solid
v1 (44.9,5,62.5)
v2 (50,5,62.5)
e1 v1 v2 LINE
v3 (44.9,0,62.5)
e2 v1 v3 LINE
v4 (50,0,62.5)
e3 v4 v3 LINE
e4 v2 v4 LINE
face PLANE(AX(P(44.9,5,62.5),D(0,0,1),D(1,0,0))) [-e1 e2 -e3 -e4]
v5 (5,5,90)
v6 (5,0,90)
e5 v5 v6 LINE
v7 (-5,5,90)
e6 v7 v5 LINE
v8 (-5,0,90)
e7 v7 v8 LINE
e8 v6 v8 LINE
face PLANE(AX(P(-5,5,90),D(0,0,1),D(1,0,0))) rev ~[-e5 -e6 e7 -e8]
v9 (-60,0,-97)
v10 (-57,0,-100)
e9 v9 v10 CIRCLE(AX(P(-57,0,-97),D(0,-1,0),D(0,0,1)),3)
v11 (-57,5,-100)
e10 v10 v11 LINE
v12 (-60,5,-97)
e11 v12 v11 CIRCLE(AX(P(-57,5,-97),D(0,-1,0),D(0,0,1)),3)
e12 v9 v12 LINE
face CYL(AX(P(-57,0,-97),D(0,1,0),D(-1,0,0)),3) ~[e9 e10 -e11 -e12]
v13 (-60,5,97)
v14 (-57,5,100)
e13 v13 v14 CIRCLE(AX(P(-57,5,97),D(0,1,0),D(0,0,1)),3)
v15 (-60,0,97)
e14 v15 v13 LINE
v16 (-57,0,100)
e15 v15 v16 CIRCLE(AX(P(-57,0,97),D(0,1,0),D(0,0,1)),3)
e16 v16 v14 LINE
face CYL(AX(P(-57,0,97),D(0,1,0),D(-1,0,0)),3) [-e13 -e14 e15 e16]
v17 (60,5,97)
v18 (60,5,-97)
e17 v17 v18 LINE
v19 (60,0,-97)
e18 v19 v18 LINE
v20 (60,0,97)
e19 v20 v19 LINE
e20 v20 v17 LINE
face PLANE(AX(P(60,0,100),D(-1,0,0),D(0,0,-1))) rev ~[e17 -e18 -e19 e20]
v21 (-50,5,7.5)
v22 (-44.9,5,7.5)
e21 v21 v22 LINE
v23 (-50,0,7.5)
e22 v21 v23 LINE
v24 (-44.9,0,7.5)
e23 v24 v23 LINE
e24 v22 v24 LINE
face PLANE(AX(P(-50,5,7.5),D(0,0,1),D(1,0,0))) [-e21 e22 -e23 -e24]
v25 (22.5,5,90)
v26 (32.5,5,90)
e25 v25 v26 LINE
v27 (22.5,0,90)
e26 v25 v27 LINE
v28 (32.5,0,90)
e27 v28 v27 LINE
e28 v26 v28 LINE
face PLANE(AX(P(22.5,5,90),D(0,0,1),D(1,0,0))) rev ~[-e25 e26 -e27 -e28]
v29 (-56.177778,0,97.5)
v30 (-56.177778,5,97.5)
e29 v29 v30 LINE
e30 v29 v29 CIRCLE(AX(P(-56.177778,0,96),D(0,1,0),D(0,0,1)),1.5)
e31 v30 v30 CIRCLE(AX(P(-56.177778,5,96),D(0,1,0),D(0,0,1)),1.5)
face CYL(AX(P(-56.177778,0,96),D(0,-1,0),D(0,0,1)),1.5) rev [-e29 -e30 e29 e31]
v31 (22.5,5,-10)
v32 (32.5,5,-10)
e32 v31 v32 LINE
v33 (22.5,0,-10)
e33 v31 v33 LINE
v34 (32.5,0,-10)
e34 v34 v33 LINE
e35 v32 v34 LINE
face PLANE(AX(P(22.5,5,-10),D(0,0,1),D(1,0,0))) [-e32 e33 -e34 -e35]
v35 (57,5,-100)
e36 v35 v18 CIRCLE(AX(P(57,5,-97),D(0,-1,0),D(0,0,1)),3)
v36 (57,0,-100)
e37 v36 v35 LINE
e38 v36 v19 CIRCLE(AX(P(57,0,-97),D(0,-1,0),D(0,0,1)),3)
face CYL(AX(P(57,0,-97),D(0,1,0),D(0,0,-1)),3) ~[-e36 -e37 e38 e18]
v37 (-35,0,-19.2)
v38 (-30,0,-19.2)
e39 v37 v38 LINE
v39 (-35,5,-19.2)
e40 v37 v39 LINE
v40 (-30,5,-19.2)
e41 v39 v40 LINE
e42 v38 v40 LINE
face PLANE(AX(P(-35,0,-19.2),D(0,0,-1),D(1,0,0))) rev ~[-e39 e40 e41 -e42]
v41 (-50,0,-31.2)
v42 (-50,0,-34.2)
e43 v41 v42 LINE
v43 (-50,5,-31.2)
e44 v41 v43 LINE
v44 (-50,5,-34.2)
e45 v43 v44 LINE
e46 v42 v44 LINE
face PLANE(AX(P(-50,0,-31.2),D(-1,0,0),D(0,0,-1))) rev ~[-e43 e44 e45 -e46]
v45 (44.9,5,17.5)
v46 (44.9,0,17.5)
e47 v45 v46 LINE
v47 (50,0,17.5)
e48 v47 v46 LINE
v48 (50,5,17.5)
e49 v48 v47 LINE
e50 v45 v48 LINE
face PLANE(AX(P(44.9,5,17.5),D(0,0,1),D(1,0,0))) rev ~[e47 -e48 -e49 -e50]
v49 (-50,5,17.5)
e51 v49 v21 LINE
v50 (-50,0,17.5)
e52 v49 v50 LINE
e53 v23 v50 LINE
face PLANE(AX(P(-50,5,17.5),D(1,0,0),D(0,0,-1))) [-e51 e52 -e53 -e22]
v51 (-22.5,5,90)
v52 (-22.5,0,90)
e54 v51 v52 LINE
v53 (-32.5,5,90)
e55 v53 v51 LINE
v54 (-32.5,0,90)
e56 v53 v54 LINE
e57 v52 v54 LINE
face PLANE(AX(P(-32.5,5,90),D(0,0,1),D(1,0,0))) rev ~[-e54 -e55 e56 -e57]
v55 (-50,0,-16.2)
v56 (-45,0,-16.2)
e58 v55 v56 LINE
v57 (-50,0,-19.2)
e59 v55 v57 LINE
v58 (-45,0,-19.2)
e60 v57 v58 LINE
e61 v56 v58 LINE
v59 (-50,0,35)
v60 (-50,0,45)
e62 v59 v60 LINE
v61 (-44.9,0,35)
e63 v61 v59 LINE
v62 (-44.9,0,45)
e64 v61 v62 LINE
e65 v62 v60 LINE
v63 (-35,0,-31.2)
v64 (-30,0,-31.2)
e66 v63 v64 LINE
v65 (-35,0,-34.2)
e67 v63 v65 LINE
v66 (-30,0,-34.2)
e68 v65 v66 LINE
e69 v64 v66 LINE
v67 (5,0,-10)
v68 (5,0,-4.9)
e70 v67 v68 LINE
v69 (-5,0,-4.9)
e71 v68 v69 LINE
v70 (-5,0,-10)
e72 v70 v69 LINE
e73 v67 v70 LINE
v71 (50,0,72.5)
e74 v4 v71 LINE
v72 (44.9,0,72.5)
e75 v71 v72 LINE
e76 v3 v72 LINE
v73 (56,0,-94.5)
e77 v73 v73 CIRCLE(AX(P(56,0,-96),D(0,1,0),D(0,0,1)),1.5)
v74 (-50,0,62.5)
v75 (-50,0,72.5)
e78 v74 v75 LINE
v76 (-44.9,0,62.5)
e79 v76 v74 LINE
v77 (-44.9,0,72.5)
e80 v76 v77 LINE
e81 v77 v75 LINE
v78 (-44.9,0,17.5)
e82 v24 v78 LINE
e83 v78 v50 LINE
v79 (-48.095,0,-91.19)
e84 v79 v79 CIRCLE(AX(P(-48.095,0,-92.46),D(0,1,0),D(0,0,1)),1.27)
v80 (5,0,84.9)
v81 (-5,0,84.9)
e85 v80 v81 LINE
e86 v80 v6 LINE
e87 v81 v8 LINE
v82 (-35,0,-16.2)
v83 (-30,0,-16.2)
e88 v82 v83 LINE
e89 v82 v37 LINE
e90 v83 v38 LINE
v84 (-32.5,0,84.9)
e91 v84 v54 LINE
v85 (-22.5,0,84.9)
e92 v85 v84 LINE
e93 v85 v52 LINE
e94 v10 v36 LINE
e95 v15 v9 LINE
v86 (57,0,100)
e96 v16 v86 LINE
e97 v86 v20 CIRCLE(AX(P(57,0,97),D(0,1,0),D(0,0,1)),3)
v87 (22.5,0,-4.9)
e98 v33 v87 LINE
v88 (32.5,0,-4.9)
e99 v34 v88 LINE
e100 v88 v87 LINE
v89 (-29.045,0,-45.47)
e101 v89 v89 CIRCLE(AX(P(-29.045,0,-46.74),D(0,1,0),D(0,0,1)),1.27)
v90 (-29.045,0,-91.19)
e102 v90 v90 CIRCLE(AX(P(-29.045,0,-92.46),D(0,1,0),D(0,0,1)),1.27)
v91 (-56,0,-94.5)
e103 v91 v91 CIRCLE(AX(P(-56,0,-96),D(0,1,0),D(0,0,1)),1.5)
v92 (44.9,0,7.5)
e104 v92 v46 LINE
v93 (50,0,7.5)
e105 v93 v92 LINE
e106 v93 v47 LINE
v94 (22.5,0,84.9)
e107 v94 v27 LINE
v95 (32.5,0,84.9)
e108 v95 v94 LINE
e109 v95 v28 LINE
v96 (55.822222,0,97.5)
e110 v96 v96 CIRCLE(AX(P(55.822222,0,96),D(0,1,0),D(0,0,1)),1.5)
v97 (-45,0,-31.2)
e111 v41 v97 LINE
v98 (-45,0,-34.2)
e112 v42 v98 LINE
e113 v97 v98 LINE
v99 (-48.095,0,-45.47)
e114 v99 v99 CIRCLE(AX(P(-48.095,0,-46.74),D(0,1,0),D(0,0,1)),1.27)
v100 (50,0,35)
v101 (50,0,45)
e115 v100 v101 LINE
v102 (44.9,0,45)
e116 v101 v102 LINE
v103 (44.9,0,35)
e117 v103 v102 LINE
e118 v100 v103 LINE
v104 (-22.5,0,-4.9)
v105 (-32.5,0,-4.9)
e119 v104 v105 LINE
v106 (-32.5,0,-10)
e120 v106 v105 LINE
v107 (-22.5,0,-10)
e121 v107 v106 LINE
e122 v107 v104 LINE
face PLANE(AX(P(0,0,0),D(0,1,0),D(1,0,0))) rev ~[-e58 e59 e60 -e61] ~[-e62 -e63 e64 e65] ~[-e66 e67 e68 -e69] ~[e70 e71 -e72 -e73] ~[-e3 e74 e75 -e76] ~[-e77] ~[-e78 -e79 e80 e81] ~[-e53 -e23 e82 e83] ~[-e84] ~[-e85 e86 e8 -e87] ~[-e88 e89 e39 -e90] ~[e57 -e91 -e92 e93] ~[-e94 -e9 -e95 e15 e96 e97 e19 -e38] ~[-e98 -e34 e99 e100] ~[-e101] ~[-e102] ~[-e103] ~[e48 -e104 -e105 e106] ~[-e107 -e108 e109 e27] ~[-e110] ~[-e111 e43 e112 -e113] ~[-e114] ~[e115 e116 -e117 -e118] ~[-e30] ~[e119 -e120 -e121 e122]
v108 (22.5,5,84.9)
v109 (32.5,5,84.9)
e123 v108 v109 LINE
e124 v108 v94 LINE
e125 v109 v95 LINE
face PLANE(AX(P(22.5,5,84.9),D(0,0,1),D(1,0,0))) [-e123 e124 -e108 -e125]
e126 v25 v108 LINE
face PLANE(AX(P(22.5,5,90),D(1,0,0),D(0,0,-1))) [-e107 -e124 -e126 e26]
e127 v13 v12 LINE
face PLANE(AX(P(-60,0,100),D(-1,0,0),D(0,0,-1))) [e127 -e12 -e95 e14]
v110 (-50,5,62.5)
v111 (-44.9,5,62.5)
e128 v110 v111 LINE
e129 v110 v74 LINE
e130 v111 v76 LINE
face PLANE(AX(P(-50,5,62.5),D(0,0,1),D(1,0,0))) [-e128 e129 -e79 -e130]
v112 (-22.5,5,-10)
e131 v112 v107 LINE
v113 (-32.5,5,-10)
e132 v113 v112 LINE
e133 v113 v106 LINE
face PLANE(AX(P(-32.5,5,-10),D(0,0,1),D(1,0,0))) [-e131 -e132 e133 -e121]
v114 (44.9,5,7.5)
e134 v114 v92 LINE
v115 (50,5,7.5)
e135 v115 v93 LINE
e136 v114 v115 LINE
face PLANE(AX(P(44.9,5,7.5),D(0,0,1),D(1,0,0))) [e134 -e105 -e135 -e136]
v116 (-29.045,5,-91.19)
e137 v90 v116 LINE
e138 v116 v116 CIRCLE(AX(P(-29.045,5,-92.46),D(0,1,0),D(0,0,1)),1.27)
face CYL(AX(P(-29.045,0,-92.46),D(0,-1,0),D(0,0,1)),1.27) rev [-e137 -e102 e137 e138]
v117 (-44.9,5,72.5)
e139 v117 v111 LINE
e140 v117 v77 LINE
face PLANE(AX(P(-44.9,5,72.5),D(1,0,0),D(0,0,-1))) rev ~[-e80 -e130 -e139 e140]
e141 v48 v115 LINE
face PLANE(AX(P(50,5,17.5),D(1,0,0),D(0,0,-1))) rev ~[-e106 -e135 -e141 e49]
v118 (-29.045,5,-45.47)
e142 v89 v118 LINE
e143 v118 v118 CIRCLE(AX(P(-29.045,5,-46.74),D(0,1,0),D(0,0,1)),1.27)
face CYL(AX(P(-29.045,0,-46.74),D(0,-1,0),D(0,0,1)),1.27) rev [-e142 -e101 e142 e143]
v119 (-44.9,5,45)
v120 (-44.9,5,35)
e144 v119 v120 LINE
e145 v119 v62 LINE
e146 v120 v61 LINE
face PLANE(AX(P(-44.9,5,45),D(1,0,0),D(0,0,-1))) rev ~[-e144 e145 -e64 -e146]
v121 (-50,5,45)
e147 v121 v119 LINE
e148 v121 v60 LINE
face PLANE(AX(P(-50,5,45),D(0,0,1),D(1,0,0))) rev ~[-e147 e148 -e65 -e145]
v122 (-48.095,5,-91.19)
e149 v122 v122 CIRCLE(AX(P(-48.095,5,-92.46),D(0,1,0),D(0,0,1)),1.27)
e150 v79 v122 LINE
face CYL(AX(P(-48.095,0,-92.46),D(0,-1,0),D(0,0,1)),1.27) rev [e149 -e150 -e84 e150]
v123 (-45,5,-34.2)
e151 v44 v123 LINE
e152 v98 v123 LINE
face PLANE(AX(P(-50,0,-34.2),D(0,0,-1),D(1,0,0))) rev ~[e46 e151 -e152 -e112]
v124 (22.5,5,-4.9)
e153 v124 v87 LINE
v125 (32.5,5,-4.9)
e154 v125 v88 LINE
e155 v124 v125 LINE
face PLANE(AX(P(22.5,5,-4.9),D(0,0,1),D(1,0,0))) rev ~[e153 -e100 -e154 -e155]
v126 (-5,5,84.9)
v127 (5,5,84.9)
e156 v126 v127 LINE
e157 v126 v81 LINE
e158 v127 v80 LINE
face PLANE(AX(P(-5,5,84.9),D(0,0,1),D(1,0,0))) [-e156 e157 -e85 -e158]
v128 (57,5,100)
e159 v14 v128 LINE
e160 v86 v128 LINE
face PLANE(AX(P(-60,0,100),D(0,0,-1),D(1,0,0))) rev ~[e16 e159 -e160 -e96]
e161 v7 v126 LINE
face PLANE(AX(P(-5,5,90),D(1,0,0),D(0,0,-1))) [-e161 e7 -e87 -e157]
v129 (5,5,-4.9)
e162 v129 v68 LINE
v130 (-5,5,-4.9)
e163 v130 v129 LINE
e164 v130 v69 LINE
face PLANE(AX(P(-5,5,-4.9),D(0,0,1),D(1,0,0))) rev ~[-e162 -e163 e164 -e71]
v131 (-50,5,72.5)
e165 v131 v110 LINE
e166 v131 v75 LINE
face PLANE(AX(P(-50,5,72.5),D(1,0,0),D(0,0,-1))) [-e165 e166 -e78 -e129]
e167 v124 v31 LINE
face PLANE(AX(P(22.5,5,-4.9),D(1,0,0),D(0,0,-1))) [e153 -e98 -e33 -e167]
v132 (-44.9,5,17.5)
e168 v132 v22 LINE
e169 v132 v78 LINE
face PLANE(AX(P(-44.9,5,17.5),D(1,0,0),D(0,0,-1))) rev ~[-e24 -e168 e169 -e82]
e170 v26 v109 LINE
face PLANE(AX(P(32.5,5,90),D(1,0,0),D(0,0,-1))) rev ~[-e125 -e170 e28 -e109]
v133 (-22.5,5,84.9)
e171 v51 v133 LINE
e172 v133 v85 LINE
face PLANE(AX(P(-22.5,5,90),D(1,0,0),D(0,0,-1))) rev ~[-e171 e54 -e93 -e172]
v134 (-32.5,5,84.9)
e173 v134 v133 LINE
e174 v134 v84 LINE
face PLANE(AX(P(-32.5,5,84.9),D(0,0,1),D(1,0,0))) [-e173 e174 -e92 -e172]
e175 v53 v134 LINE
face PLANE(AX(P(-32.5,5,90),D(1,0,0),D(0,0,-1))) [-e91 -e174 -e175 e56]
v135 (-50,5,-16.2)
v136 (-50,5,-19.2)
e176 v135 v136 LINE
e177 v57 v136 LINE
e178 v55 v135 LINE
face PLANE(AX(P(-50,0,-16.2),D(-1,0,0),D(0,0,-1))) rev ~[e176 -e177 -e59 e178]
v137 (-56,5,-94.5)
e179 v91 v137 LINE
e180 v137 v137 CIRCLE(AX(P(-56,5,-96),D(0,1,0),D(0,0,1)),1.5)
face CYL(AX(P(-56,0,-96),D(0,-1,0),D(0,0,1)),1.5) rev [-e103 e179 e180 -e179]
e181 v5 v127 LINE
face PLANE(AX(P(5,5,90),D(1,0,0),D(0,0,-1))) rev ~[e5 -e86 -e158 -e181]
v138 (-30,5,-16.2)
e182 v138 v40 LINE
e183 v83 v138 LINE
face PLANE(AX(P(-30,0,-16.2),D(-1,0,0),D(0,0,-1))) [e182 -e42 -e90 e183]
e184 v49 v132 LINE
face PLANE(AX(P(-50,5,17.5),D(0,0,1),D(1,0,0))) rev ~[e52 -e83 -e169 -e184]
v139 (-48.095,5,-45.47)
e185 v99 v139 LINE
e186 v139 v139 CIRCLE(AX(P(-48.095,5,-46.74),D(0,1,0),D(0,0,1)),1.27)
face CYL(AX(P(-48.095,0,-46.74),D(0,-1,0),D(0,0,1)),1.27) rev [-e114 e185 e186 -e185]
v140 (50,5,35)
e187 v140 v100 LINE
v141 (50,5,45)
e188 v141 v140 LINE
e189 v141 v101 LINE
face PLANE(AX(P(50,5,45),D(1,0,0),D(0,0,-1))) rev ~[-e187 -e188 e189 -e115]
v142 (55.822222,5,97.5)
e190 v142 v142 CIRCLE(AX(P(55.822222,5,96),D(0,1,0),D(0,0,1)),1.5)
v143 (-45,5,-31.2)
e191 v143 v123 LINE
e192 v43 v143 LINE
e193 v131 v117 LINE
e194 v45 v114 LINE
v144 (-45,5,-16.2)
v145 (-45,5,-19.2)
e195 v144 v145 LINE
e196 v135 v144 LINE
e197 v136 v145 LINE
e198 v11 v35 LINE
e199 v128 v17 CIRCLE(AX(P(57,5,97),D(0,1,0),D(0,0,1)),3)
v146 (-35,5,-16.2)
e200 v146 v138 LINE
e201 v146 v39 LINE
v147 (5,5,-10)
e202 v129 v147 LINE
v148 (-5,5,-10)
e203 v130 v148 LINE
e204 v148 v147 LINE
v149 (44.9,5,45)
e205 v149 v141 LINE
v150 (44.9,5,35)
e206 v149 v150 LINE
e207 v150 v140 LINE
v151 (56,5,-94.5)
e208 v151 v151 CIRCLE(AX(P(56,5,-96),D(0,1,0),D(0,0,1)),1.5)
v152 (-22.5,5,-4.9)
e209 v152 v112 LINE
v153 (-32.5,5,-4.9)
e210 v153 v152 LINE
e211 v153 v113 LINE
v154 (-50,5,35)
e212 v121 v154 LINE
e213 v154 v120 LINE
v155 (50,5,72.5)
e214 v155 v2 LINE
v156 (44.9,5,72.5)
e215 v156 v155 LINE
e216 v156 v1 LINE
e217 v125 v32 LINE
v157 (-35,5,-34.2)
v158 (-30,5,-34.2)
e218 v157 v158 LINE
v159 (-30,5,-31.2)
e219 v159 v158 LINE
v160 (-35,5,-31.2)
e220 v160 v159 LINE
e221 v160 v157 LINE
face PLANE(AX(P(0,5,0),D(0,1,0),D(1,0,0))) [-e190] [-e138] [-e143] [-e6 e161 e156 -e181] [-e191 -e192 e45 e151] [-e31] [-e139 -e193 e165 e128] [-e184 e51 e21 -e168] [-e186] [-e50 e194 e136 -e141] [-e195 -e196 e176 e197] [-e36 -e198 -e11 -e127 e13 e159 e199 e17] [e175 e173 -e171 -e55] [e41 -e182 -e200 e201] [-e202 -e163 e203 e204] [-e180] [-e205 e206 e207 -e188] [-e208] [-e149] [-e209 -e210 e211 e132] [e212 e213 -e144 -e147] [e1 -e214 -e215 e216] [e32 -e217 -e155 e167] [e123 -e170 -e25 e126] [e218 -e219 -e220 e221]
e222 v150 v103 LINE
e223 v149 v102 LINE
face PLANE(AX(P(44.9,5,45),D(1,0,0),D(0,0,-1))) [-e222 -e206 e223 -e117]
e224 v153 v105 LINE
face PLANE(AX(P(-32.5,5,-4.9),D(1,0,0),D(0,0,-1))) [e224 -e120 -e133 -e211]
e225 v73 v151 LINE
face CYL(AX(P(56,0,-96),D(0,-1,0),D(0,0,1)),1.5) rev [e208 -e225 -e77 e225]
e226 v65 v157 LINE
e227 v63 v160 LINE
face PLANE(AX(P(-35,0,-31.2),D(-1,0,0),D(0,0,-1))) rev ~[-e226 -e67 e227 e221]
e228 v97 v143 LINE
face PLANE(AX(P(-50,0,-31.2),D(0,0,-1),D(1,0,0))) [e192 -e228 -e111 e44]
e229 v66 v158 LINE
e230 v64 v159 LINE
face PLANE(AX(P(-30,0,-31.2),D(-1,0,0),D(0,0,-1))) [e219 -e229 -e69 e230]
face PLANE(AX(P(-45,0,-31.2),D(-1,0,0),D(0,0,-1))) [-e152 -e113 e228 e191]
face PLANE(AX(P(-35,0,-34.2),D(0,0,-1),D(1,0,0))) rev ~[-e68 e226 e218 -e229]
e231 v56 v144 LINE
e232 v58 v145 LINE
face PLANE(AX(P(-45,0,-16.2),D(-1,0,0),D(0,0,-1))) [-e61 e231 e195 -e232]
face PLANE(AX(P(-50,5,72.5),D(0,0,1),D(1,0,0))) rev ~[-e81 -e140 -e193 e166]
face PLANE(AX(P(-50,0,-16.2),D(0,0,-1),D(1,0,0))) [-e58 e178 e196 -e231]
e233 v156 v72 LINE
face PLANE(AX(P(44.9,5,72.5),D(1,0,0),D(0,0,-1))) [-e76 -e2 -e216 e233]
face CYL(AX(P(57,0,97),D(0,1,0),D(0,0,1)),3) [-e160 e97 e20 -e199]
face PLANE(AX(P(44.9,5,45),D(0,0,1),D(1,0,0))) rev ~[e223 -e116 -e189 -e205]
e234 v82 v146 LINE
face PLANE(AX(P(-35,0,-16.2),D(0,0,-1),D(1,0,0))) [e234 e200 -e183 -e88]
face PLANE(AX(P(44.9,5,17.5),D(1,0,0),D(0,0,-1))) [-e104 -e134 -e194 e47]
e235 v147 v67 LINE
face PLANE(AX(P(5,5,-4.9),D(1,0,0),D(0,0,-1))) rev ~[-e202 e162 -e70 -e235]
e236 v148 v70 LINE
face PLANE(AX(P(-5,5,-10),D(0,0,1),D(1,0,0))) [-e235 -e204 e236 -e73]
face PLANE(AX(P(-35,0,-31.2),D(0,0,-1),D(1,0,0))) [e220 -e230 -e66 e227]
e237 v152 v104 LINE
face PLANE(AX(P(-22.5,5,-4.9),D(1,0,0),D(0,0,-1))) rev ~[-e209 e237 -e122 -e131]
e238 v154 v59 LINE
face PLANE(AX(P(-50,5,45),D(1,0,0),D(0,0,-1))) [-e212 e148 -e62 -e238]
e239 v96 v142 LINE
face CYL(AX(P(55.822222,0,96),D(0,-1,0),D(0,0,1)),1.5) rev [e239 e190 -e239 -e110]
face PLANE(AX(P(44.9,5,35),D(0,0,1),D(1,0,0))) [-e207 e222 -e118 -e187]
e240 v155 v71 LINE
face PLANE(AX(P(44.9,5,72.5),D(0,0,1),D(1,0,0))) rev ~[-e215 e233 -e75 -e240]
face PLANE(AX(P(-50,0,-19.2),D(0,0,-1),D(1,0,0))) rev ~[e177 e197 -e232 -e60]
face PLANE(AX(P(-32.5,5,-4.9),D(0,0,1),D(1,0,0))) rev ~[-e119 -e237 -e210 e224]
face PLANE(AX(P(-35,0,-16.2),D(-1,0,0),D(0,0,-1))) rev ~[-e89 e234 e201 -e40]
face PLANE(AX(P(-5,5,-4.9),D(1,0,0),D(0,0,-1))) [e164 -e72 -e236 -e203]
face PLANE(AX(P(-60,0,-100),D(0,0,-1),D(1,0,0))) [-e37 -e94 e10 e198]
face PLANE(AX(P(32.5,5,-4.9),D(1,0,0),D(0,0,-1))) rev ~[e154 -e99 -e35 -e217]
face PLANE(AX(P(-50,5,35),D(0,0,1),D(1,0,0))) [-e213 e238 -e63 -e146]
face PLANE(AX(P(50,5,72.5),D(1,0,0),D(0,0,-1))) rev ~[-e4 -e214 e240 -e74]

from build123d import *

# Parameters (mm, degrees)
SKETCH1_W           = 120
SKETCH1_H           = 200
SKETCH1_R           = 1.5
SKETCH1_R_2         = 1.27
SKETCH1_W_2         = 5
SKETCH1_H_2         = 3
BOSS_EXTRUDE1_DEPTH = 5
CUT_EXTRUDE1_REACH  = 118.726
SKETCH4_W           = 5.1
SKETCH4_H           = 10
SKETCH4_W_2         = 10
SKETCH4_H_2         = 5.1
FILLET1_R           = 3


with BuildPart() as part:
    # Sketch1 → Boss-Extrude1 (new body)
    with BuildSketch(Plane(origin=(0, 0, 0), x_dir=(1, 0, 0), z_dir=(0, 1, 0))):
        Rectangle(SKETCH1_W, SKETCH1_H)
        with Locations(Location((-56, 96, 0), (0, 0, 270))):
            Circle(SKETCH1_R, mode=Mode.SUBTRACT)
        with Locations(Location((56, 96, 0), (0, 0, 270))):
            Circle(SKETCH1_R, mode=Mode.SUBTRACT)
        with Locations(Location((55.822222222, -96, 0), (0, 0, 270))):
            Circle(SKETCH1_R, mode=Mode.SUBTRACT)
        with Locations(Location((-56.177777778, -96, 0), (0, 0, 270))):
            Circle(SKETCH1_R, mode=Mode.SUBTRACT)
        with Locations(Location((-48.095, 92.46, 0), (0, 0, 270))):
            Circle(SKETCH1_R_2, mode=Mode.SUBTRACT)
        with Locations(Location((-29.045, 92.46, 0), (0, 0, 270))):
            Circle(SKETCH1_R_2, mode=Mode.SUBTRACT)
        with Locations(Location((-29.045, 46.74, 0), (0, 0, 270))):
            Circle(SKETCH1_R_2, mode=Mode.SUBTRACT)
        with Locations(Location((-48.095, 46.74, 0), (0, 0, 270))):
            Circle(SKETCH1_R_2, mode=Mode.SUBTRACT)
        with Locations((-32.5, 32.7)):
            Rectangle(SKETCH1_W_2, SKETCH1_H_2, mode=Mode.SUBTRACT)
        with Locations((-47.5, 32.7)):
            Rectangle(SKETCH1_W_2, SKETCH1_H_2, mode=Mode.SUBTRACT)
        with Locations((-32.5, 17.7)):
            Rectangle(SKETCH1_W_2, SKETCH1_H_2, mode=Mode.SUBTRACT)
        with Locations((-47.5, 17.7)):
            Rectangle(SKETCH1_W_2, SKETCH1_H_2, mode=Mode.SUBTRACT)
    extrude(amount=BOSS_EXTRUDE1_DEPTH)

    # Sketch4 → Cut-Extrude1 (cut, up to next)
    with BuildSketch(Plane(origin=(0, 5, 0), x_dir=(1, 0, 0), z_dir=(0, 1, 0)), mode=Mode.PRIVATE) as cut_extrude1_sk1:
        with Locations((-47.45, -12.5)):
            Rectangle(SKETCH4_W, SKETCH4_H)
    cut_extrude1_tool1 = extrude(cut_extrude1_sk1.sketch, amount=-CUT_EXTRUDE1_REACH, mode=Mode.PRIVATE) & part.part
    # Sketch4 → Cut-Extrude1 (cut, up to next)
    with BuildSketch(Plane(origin=(0, 5, 0), x_dir=(1, 0, 0), z_dir=(0, 1, 0)), mode=Mode.PRIVATE) as cut_extrude1_sk2:
        with Locations((-47.45, -67.5)):
            Rectangle(SKETCH4_W, SKETCH4_H)
    cut_extrude1_tool2 = extrude(cut_extrude1_sk2.sketch, amount=-CUT_EXTRUDE1_REACH, mode=Mode.PRIVATE) & part.part
    # Sketch4 → Cut-Extrude1 (cut, up to next)
    with BuildSketch(Plane(origin=(0, 5, 0), x_dir=(1, 0, 0), z_dir=(0, 1, 0)), mode=Mode.PRIVATE) as cut_extrude1_sk3:
        with Locations((-47.45, -40)):
            Rectangle(SKETCH4_W, SKETCH4_H)
    cut_extrude1_tool3 = extrude(cut_extrude1_sk3.sketch, amount=-CUT_EXTRUDE1_REACH, mode=Mode.PRIVATE) & part.part
    # Sketch4 → Cut-Extrude1 (cut, up to next)
    with BuildSketch(Plane(origin=(0, 5, 0), x_dir=(1, 0, 0), z_dir=(0, 1, 0)), mode=Mode.PRIVATE) as cut_extrude1_sk4:
        with Locations((-27.5, 7.45)):
            Rectangle(SKETCH4_W_2, SKETCH4_H_2)
    cut_extrude1_tool4 = extrude(cut_extrude1_sk4.sketch, amount=-CUT_EXTRUDE1_REACH, mode=Mode.PRIVATE) & part.part
    # Sketch4 → Cut-Extrude1 (cut, up to next)
    with BuildSketch(Plane(origin=(0, 5, 0), x_dir=(1, 0, 0), z_dir=(0, 1, 0)), mode=Mode.PRIVATE) as cut_extrude1_sk5:
        with Locations((0, 7.45)):
            Rectangle(SKETCH4_W_2, SKETCH4_H_2)
    cut_extrude1_tool5 = extrude(cut_extrude1_sk5.sketch, amount=-CUT_EXTRUDE1_REACH, mode=Mode.PRIVATE) & part.part
    # Sketch4 → Cut-Extrude1 (cut, up to next)
    with BuildSketch(Plane(origin=(0, 5, 0), x_dir=(1, 0, 0), z_dir=(0, 1, 0)), mode=Mode.PRIVATE) as cut_extrude1_sk6:
        with Locations((27.5, 7.45)):
            Rectangle(SKETCH4_W_2, SKETCH4_H_2)
    cut_extrude1_tool6 = extrude(cut_extrude1_sk6.sketch, amount=-CUT_EXTRUDE1_REACH, mode=Mode.PRIVATE) & part.part
    # Sketch4 → Cut-Extrude1 (cut, up to next)
    with BuildSketch(Plane(origin=(0, 5, 0), x_dir=(1, 0, 0), z_dir=(0, 1, 0)), mode=Mode.PRIVATE) as cut_extrude1_sk7:
        with Locations((47.45, -12.5)):
            Rectangle(SKETCH4_W, SKETCH4_H)
    cut_extrude1_tool7 = extrude(cut_extrude1_sk7.sketch, amount=-CUT_EXTRUDE1_REACH, mode=Mode.PRIVATE) & part.part
    # Sketch4 → Cut-Extrude1 (cut, up to next)
    with BuildSketch(Plane(origin=(0, 5, 0), x_dir=(1, 0, 0), z_dir=(0, 1, 0)), mode=Mode.PRIVATE) as cut_extrude1_sk8:
        with Locations((47.45, -40)):
            Rectangle(SKETCH4_W, SKETCH4_H)
    cut_extrude1_tool8 = extrude(cut_extrude1_sk8.sketch, amount=-CUT_EXTRUDE1_REACH, mode=Mode.PRIVATE) & part.part
    # Sketch4 → Cut-Extrude1 (cut, up to next)
    with BuildSketch(Plane(origin=(0, 5, 0), x_dir=(1, 0, 0), z_dir=(0, 1, 0)), mode=Mode.PRIVATE) as cut_extrude1_sk9:
        with Locations((47.45, -67.5)):
            Rectangle(SKETCH4_W, SKETCH4_H)
    cut_extrude1_tool9 = extrude(cut_extrude1_sk9.sketch, amount=-CUT_EXTRUDE1_REACH, mode=Mode.PRIVATE) & part.part
    # Sketch4 → Cut-Extrude1 (cut, up to next)
    with BuildSketch(Plane(origin=(0, 5, 0), x_dir=(1, 0, 0), z_dir=(0, 1, 0)), mode=Mode.PRIVATE) as cut_extrude1_sk10:
        with Locations((0, -87.45)):
            Rectangle(SKETCH4_W_2, SKETCH4_H_2)
    cut_extrude1_tool10 = extrude(cut_extrude1_sk10.sketch, amount=-CUT_EXTRUDE1_REACH, mode=Mode.PRIVATE) & part.part
    # Sketch4 → Cut-Extrude1 (cut, up to next)
    with BuildSketch(Plane(origin=(0, 5, 0), x_dir=(1, 0, 0), z_dir=(0, 1, 0)), mode=Mode.PRIVATE) as cut_extrude1_sk11:
        with Locations((-27.5, -87.45)):
            Rectangle(SKETCH4_W_2, SKETCH4_H_2)
    cut_extrude1_tool11 = extrude(cut_extrude1_sk11.sketch, amount=-CUT_EXTRUDE1_REACH, mode=Mode.PRIVATE) & part.part
    # Sketch4 → Cut-Extrude1 (cut, up to next)
    with BuildSketch(Plane(origin=(0, 5, 0), x_dir=(1, 0, 0), z_dir=(0, 1, 0)), mode=Mode.PRIVATE) as cut_extrude1_sk12:
        with Locations((27.5, -87.45)):
            Rectangle(SKETCH4_W_2, SKETCH4_H_2)
    cut_extrude1_tool12 = extrude(cut_extrude1_sk12.sketch, amount=-CUT_EXTRUDE1_REACH, mode=Mode.PRIVATE) & part.part
    add(cut_extrude1_tool1.solids().sort_by_distance((-47.45, 5, 12.5))[0], mode=Mode.SUBTRACT)
    add(cut_extrude1_tool2.solids().sort_by_distance((-47.45, 5, 67.5))[0], mode=Mode.SUBTRACT)
    add(cut_extrude1_tool3.solids().sort_by_distance((-47.45, 5, 40))[0], mode=Mode.SUBTRACT)
    add(cut_extrude1_tool4.solids().sort_by_distance((-27.5, 5, -7.45))[0], mode=Mode.SUBTRACT)
    add(cut_extrude1_tool5.solids().sort_by_distance((0, 5, -7.45))[0], mode=Mode.SUBTRACT)
    add(cut_extrude1_tool6.solids().sort_by_distance((27.5, 5, -7.45))[0], mode=Mode.SUBTRACT)
    add(cut_extrude1_tool7.solids().sort_by_distance((47.45, 5, 12.5))[0], mode=Mode.SUBTRACT)
    add(cut_extrude1_tool8.solids().sort_by_distance((47.45, 5, 40))[0], mode=Mode.SUBTRACT)
    add(cut_extrude1_tool9.solids().sort_by_distance((47.45, 5, 67.5))[0], mode=Mode.SUBTRACT)
    add(cut_extrude1_tool10.solids().sort_by_distance((0, 5, 87.45))[0], mode=Mode.SUBTRACT)
    add(cut_extrude1_tool11.solids().sort_by_distance((-27.5, 5, 87.45))[0], mode=Mode.SUBTRACT)
    add(cut_extrude1_tool12.solids().sort_by_distance((27.5, 5, 87.45))[0], mode=Mode.SUBTRACT)

    # Fillet1
    fillet1_edges = [part.edges().sort_by_distance(p)[0] for p in [
        (-60, 2.5, 100),
        (-60, 2.5, -100),
        (60, 2.5, -100),
        (60, 2.5, 100),
    ]]
    fillet(fillet1_edges, radius=FILLET1_R)


solid = part.part
